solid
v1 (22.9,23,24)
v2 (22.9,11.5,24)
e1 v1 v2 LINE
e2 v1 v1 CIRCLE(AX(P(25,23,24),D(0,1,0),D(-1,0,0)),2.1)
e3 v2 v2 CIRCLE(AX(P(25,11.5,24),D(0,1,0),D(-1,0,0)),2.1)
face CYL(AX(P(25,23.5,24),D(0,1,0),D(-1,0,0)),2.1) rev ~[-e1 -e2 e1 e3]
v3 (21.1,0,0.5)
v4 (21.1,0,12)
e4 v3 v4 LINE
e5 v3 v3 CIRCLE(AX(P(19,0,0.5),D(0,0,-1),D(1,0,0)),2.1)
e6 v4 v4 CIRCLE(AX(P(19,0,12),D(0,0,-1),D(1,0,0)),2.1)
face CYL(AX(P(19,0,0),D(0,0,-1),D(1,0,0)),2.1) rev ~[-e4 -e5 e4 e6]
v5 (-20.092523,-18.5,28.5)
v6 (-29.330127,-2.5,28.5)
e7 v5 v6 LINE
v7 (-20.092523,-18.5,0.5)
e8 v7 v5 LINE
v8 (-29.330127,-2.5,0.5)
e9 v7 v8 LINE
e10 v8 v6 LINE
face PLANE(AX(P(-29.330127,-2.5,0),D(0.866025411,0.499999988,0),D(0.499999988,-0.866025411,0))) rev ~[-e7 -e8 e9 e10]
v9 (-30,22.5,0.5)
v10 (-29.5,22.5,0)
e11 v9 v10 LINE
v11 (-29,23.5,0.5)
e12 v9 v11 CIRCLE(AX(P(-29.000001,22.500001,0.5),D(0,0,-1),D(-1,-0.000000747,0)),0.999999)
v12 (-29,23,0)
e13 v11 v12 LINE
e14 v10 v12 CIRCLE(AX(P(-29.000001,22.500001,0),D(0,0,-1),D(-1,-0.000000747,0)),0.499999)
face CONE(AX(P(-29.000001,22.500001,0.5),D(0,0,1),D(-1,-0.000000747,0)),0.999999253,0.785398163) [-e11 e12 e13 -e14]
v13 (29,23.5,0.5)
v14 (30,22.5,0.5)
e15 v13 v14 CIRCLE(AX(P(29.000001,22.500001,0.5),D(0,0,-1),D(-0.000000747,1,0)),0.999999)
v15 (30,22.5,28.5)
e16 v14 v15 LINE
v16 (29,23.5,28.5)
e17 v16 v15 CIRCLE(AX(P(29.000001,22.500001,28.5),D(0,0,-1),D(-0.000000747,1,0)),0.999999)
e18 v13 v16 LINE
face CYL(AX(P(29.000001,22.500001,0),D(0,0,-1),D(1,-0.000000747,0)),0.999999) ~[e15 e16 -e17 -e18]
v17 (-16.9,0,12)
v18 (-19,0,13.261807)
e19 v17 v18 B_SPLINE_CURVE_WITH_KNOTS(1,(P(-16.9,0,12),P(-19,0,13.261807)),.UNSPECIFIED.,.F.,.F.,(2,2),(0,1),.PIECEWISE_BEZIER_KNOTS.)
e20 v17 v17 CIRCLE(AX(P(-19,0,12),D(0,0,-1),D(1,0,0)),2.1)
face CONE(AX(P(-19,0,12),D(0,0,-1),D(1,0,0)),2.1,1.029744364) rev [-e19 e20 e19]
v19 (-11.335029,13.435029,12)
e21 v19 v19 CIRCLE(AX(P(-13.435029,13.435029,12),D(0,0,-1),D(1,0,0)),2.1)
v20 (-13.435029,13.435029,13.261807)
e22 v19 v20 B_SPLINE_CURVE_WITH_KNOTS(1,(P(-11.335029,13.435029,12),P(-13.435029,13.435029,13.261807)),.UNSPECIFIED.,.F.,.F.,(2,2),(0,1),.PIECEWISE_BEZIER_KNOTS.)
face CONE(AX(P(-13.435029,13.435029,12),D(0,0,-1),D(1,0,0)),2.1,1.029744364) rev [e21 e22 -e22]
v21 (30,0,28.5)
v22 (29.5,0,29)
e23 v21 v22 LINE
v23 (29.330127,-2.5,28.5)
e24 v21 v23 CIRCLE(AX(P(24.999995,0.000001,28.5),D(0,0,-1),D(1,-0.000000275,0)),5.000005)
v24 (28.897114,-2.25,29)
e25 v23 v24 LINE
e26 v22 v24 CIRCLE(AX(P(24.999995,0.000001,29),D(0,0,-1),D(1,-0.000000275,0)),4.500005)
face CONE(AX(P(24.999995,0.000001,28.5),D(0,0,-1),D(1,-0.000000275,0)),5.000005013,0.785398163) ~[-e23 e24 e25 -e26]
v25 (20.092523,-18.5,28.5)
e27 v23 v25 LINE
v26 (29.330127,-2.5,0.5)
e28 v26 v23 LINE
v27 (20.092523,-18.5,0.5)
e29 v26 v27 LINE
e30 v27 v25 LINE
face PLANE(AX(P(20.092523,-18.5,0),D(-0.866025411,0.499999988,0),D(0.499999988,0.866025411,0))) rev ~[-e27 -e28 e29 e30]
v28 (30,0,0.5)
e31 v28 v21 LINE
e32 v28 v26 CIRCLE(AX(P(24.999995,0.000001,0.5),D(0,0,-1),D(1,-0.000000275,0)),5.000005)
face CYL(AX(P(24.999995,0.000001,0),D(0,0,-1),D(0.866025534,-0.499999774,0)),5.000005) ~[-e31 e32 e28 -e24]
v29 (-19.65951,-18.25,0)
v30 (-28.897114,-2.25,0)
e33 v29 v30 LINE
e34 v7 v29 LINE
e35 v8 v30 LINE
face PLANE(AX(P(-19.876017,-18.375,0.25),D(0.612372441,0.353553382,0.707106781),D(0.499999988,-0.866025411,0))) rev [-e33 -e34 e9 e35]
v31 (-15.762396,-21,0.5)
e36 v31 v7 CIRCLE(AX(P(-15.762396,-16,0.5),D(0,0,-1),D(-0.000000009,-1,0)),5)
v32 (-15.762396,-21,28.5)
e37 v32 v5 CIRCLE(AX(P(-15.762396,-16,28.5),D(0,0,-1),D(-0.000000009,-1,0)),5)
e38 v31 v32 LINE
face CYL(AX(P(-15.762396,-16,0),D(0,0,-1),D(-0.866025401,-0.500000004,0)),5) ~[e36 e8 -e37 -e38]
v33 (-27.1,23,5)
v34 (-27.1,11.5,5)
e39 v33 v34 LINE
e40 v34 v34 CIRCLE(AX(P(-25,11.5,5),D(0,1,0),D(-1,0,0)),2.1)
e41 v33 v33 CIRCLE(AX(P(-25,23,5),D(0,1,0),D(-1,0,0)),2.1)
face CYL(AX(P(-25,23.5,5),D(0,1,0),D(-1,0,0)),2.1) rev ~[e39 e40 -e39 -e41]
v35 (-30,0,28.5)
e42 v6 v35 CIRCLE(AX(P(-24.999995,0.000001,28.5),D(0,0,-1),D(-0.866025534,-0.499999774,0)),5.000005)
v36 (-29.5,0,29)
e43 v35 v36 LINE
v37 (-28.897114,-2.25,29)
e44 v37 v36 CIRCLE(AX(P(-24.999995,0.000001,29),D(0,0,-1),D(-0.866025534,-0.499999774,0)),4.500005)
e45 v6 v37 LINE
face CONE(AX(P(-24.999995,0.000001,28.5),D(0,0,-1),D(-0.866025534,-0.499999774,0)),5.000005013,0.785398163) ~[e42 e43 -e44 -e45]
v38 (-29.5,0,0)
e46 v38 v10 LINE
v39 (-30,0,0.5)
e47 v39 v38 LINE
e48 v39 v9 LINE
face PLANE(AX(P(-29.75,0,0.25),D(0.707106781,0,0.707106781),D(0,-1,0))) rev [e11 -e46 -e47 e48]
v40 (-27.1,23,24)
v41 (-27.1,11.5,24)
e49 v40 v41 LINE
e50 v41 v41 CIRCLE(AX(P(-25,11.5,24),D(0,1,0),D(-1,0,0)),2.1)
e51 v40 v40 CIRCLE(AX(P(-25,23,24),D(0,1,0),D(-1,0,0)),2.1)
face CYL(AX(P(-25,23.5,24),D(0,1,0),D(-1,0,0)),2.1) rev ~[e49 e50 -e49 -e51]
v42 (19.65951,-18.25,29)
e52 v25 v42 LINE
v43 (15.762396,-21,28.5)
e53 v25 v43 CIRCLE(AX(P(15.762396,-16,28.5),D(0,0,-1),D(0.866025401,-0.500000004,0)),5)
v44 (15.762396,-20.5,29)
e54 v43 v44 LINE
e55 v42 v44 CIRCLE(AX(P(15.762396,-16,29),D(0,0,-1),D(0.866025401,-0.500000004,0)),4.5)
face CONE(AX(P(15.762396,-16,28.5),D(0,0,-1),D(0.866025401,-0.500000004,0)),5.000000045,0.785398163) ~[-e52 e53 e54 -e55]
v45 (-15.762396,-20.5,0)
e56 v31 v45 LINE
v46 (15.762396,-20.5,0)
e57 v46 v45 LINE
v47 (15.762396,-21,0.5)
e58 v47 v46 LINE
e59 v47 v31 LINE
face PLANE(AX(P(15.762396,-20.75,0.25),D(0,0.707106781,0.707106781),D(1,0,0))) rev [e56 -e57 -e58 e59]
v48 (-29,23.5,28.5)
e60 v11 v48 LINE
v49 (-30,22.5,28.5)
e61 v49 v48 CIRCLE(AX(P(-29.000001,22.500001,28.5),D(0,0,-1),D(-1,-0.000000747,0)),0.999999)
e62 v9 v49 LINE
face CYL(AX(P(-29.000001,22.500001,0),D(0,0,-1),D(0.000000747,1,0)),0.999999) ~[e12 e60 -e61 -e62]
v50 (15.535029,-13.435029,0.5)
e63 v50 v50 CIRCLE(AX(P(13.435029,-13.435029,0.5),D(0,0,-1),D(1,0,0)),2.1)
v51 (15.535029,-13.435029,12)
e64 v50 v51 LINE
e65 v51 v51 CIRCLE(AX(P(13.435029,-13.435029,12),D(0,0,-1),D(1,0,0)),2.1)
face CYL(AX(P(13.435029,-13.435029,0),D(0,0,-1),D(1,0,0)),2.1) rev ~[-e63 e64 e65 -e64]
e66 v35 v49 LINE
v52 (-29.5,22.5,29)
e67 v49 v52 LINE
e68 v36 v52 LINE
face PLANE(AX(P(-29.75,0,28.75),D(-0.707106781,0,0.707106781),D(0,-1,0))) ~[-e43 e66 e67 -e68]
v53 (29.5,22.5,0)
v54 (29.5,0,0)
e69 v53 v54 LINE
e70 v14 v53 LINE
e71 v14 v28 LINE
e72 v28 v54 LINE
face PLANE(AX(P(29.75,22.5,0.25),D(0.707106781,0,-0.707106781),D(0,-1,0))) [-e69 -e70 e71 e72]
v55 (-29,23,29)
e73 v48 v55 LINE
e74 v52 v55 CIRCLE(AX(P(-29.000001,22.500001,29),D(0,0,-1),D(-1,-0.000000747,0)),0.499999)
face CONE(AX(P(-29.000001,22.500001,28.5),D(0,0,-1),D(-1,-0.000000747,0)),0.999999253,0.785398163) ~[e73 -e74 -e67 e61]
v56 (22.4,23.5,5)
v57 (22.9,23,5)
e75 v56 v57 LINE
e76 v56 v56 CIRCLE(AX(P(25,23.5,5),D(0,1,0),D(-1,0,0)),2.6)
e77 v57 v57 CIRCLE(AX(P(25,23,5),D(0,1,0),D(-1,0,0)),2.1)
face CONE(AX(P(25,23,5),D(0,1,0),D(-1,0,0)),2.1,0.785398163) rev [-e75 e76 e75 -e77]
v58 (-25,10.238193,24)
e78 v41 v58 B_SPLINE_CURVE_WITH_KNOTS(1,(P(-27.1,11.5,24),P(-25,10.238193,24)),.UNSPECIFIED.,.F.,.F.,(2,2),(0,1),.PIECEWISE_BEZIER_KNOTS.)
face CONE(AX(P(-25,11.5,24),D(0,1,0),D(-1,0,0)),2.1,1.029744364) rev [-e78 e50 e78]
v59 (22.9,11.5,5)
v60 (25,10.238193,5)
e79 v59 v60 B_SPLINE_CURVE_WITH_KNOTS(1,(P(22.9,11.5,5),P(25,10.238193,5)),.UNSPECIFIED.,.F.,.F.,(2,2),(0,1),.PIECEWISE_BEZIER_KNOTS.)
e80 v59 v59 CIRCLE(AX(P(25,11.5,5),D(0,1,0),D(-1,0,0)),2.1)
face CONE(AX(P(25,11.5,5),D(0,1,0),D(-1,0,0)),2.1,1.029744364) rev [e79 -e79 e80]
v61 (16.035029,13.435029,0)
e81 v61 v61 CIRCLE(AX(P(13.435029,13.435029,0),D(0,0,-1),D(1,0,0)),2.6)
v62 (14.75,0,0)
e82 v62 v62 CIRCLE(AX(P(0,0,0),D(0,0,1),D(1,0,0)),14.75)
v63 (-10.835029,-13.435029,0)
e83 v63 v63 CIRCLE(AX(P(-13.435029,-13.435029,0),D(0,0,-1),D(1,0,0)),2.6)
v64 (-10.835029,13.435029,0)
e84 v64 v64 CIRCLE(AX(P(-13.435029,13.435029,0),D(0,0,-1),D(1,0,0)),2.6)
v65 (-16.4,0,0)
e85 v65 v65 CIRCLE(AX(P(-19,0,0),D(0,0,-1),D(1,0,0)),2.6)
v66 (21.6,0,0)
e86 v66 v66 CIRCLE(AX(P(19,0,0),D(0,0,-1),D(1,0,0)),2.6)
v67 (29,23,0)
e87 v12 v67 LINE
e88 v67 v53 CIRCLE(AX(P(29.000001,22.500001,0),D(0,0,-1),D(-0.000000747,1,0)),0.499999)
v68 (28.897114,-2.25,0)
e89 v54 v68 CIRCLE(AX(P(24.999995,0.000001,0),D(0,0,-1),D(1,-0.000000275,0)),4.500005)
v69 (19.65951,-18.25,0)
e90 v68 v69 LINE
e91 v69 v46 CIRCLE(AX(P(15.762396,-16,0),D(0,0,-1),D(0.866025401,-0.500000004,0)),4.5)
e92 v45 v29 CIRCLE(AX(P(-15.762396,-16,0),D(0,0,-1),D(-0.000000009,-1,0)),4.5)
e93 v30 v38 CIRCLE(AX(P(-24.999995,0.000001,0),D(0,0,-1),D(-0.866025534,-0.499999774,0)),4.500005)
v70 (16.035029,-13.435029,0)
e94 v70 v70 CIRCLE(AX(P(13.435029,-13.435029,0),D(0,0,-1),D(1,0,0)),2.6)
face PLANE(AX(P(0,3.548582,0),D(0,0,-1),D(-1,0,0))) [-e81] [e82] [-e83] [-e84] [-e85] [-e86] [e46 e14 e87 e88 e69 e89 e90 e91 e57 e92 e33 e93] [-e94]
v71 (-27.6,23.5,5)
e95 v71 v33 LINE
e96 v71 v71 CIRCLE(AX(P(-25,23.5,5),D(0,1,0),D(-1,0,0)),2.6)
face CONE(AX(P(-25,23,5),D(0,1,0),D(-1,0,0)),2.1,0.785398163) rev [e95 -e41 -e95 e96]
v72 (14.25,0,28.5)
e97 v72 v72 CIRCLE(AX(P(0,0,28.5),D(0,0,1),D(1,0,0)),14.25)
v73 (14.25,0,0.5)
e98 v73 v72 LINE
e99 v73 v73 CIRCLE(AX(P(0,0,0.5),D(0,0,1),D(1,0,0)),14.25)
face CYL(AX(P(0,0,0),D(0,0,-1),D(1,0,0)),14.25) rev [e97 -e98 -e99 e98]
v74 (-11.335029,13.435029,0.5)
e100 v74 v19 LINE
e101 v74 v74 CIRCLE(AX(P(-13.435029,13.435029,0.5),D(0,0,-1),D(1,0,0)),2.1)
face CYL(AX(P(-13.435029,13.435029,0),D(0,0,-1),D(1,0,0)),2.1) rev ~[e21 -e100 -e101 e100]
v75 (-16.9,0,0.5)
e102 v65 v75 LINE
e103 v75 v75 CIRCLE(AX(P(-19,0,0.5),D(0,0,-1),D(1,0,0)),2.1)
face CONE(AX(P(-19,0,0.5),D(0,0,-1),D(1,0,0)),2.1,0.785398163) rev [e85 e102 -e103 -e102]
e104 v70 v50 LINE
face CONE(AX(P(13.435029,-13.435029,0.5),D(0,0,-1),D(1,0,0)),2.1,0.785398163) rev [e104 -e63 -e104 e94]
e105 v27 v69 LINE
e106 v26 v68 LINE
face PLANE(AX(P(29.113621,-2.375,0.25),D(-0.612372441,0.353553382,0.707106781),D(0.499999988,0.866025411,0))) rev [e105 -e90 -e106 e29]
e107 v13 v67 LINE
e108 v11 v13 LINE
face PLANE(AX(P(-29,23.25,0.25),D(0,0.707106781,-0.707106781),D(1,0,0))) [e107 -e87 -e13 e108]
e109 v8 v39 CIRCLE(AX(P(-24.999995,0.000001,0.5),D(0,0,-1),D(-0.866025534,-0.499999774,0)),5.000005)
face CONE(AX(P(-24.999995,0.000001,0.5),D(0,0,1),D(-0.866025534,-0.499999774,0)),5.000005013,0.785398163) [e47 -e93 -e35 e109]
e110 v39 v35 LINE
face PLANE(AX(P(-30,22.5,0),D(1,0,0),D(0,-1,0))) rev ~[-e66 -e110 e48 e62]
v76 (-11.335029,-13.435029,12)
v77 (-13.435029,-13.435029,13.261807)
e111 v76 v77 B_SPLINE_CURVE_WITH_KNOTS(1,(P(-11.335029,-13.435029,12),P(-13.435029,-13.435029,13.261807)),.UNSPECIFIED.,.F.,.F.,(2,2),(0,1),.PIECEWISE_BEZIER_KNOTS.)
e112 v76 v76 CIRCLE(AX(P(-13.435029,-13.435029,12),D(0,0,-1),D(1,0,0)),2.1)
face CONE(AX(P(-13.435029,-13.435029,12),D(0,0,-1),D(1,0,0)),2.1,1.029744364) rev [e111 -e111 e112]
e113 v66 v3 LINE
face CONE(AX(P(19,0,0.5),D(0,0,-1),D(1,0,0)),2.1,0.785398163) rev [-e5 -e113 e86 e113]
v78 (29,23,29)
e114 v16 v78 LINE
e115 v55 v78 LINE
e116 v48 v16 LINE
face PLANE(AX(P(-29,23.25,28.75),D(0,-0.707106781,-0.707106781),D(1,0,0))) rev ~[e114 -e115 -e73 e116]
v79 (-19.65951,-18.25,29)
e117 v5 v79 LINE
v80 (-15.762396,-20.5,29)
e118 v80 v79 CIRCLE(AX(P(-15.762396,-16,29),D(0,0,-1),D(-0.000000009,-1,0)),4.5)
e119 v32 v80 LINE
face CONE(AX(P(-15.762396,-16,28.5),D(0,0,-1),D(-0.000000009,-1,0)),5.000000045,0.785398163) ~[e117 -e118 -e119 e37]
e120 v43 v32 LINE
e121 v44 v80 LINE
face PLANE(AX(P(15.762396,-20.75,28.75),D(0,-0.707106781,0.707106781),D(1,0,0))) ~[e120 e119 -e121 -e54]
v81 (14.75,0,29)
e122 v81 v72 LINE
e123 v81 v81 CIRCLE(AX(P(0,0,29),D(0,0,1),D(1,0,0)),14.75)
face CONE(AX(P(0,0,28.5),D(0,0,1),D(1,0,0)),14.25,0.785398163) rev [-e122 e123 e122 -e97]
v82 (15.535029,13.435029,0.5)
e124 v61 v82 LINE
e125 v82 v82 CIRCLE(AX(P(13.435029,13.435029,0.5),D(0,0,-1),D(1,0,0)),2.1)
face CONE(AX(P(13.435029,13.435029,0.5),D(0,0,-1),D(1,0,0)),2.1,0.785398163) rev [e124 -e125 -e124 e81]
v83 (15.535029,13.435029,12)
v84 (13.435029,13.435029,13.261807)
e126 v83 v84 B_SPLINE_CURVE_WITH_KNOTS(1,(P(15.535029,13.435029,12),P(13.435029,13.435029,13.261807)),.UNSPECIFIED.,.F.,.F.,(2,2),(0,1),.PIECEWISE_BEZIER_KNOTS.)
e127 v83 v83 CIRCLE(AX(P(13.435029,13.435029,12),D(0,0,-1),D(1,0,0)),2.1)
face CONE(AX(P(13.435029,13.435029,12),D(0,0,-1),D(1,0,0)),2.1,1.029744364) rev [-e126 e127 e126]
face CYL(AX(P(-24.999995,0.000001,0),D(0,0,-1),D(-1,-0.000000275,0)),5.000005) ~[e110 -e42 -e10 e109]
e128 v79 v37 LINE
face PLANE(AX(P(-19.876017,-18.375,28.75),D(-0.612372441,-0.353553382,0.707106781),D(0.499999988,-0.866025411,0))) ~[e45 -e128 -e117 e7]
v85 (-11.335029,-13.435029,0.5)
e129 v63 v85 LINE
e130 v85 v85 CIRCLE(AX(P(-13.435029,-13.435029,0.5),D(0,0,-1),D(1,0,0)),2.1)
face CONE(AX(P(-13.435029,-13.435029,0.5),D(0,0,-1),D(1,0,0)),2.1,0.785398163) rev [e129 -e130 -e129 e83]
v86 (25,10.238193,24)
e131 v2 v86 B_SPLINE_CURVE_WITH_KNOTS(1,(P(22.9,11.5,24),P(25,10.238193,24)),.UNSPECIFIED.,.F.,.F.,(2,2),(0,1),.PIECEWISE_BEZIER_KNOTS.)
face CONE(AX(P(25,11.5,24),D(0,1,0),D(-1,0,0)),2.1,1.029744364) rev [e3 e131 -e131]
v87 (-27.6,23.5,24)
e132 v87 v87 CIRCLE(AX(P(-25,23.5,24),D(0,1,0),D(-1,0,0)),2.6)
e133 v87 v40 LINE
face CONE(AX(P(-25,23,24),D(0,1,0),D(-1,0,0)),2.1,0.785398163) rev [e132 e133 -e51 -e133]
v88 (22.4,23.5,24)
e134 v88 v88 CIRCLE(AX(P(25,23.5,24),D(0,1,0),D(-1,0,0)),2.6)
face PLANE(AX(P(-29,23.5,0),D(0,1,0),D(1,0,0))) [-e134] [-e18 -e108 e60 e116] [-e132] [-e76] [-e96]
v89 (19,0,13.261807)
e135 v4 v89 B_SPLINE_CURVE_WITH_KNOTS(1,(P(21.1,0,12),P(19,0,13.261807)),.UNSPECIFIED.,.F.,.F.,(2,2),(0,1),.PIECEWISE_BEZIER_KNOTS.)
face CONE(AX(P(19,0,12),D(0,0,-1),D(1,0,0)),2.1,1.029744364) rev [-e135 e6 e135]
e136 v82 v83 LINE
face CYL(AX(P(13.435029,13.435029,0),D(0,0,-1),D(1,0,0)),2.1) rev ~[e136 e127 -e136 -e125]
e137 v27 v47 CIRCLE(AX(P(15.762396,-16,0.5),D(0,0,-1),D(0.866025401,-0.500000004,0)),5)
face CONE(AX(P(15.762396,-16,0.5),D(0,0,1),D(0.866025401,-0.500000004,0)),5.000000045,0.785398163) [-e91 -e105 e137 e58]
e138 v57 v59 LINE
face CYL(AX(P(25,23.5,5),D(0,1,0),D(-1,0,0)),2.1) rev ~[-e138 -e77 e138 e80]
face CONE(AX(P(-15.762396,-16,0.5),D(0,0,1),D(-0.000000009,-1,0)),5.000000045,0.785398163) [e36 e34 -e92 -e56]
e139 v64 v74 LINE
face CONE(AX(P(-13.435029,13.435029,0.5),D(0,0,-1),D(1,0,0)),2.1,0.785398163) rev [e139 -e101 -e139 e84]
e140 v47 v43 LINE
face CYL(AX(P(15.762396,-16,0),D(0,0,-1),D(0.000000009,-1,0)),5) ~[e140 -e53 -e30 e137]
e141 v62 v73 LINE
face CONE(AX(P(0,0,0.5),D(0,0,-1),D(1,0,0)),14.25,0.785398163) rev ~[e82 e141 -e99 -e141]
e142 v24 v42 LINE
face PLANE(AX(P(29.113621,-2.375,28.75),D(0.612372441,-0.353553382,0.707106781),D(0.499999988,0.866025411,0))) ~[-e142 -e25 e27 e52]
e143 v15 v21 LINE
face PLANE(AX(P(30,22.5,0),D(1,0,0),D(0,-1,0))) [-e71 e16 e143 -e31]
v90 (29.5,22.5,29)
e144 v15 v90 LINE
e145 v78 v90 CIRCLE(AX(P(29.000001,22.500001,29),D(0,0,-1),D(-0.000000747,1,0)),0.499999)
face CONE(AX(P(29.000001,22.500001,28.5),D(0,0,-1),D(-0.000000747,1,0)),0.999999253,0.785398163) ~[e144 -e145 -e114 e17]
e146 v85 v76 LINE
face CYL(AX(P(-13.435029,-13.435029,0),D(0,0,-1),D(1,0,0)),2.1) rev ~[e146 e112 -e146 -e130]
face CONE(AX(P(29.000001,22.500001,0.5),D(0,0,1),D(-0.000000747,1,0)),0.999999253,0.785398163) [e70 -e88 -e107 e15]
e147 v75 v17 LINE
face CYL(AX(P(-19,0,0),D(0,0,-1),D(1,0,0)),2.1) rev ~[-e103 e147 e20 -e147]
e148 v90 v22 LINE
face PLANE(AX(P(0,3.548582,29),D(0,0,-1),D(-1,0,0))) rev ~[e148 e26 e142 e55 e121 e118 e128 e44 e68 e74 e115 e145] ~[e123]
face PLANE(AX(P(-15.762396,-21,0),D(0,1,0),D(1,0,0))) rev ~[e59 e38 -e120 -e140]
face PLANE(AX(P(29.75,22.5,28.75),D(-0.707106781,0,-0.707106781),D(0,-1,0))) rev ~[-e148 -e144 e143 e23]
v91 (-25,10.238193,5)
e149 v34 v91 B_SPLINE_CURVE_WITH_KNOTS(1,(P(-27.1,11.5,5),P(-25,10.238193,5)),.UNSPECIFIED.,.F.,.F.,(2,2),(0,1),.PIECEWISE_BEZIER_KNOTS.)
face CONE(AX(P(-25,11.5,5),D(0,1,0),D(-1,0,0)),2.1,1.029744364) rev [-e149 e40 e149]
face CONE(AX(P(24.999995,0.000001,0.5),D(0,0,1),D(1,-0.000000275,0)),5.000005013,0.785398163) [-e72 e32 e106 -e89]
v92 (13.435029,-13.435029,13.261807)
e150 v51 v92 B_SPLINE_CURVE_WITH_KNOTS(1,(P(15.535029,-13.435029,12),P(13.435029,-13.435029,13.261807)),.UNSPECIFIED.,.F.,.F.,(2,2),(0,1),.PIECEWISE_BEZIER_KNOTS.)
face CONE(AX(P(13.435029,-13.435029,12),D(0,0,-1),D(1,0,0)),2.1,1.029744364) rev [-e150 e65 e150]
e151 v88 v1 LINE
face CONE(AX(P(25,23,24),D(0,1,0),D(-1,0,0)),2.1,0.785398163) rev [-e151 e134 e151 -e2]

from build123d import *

# Parameters (mm, degrees)
SKETCH_R       = 14.25
PAD_DEPTH      = 29
SKETCH001_R    = 2.1
HOLE_DEPTH     = 12
HOLE_TIPS_R    = 2.1
SKETCH002_R    = 2.1
HOLE001_DEPTH  = 12
HOLE001_TIPS_R = 2.1
CHAMFER_SIZE   = 0.5


with BuildPart() as part:
    # Sketch → Pad (new body)
    with BuildSketch(Plane.XY):
        with BuildLine():
            Line((-29, 23.5), (29, 23.5))
            ThreePointArc((30, 22.5), (29.707107, 23.207107), (29, 23.5))
            Line((30, 22.5), (30, 0))
            ThreePointArc((29.330127, -2.5), (29.829629, -1.294095), (30, 0))
            Line((20.092523, -18.5), (29.330127, -2.5))
            ThreePointArc((15.762396, -21), (18.262396, -20.330127), (20.092523, -18.5))
            Line((-15.762396, -21), (15.762396, -21))
            ThreePointArc((-20.092523, -18.5), (-18.262396, -20.330127), (-15.762396, -21))
            Line((-29.330127, -2.5), (-20.092523, -18.5))
            ThreePointArc((-30, 0), (-29.829629, -1.294095), (-29.330127, -2.5))
            Line((-30, 22.5), (-30, 0))
            ThreePointArc((-29, 23.5), (-29.707107, 23.207107), (-30, 22.5))
        make_face()
        Circle(SKETCH_R, mode=Mode.SUBTRACT)
    extrude(amount=PAD_DEPTH)

    # Sketch001 (on Face14 of Pad) → Hole (cut)
    with BuildSketch(Plane(origin=(0, 0, 0), x_dir=(1, 0, 0), z_dir=(0, 0, -1))):
        with Locations((-19, 0)):
            Circle(SKETCH001_R)
        with Locations((-13.435029, 13.435029)):
            Circle(SKETCH001_R)
        with Locations((13.435029, 13.435029)):
            Circle(SKETCH001_R)
        with Locations((19, 0)):
            Circle(SKETCH001_R)
        with Locations((13.435029, -13.435029)):
            Circle(SKETCH001_R)
        with Locations((-13.435029, -13.435029)):
            Circle(SKETCH001_R)
    extrude(amount=-HOLE_DEPTH, mode=Mode.SUBTRACT)

    # Hole tips → Hole tip 1 section 0
    with BuildSketch(Plane(origin=(0, 0, 12), x_dir=(1, 0, 0), z_dir=(0, 0, -1)), mode=Mode.PRIVATE) as hole_tip_1_s0:
        with Locations((-19, 0)):
            Circle(HOLE_TIPS_R)
    loft([hole_tip_1_s0.sketch, Vertex(-19, 0, 13.261807)], mode=Mode.SUBTRACT)

    # Hole tips → Hole tip 2 section 0
    with BuildSketch(Plane(origin=(0, 0, 12), x_dir=(1, 0, 0), z_dir=(0, 0, -1)), mode=Mode.PRIVATE) as hole_tip_2_s0:
        with Locations((-13.435029, 13.435029)):
            Circle(HOLE_TIPS_R)
    loft([hole_tip_2_s0.sketch, Vertex(-13.435029, -13.435029, 13.261807)], mode=Mode.SUBTRACT)

    # Hole tips → Hole tip 3 section 0
    with BuildSketch(Plane(origin=(0, 0, 12), x_dir=(1, 0, 0), z_dir=(0, 0, -1)), mode=Mode.PRIVATE) as hole_tip_3_s0:
        with Locations((13.435029, 13.435029)):
            Circle(HOLE_TIPS_R)
    loft([hole_tip_3_s0.sketch, Vertex(13.435029, -13.435029, 13.261807)], mode=Mode.SUBTRACT)

    # Hole tips → Hole tip 4 section 0
    with BuildSketch(Plane(origin=(0, 0, 12), x_dir=(1, 0, 0), z_dir=(0, 0, -1)), mode=Mode.PRIVATE) as hole_tip_4_s0:
        with Locations((19, 0)):
            Circle(HOLE_TIPS_R)
    loft([hole_tip_4_s0.sketch, Vertex(19, 0, 13.261807)], mode=Mode.SUBTRACT)

    # Hole tips → Hole tip 5 section 0
    with BuildSketch(Plane(origin=(0, 0, 12), x_dir=(1, 0, 0), z_dir=(0, 0, -1)), mode=Mode.PRIVATE) as hole_tip_5_s0:
        with Locations((13.435029, -13.435029)):
            Circle(HOLE_TIPS_R)
    loft([hole_tip_5_s0.sketch, Vertex(13.435029, 13.435029, 13.261807)], mode=Mode.SUBTRACT)

    # Hole tips → Hole tip 6 section 0
    with BuildSketch(Plane(origin=(0, 0, 12), x_dir=(1, 0, 0), z_dir=(0, 0, -1)), mode=Mode.PRIVATE) as hole_tip_6_s0:
        with Locations((-13.435029, -13.435029)):
            Circle(HOLE_TIPS_R)
    loft([hole_tip_6_s0.sketch, Vertex(-13.435029, 13.435029, 13.261807)], mode=Mode.SUBTRACT)

    # Sketch002 (on Face2 of Hole) → Hole001 (cut)
    with BuildSketch(Plane(origin=(0, 23.5, 0), x_dir=(-1, 0, 0), z_dir=(0, 1, 0))):
        with Locations((-25, 5)):
            Circle(SKETCH002_R)
        with Locations((25, 5)):
            Circle(SKETCH002_R)
        with Locations((-25, 24)):
            Circle(SKETCH002_R)
        with Locations((25, 24)):
            Circle(SKETCH002_R)
    extrude(amount=-HOLE001_DEPTH, mode=Mode.SUBTRACT)

    # Hole001 tips → Hole001 tip 1 section 0
    with BuildSketch(Plane(origin=(0, 11.5, 0), x_dir=(-1, 0, 0), z_dir=(0, 1, 0)), mode=Mode.PRIVATE) as hole001_tip_1_s0:
        with Locations((-25, 5)):
            Circle(HOLE001_TIPS_R)
    loft([hole001_tip_1_s0.sketch, Vertex(25, 10.238193, 5)], mode=Mode.SUBTRACT)

    # Hole001 tips → Hole001 tip 2 section 0
    with BuildSketch(Plane(origin=(0, 11.5, 0), x_dir=(-1, 0, 0), z_dir=(0, 1, 0)), mode=Mode.PRIVATE) as hole001_tip_2_s0:
        with Locations((25, 5)):
            Circle(HOLE001_TIPS_R)
    loft([hole001_tip_2_s0.sketch, Vertex(-25, 10.238193, 5)], mode=Mode.SUBTRACT)

    # Hole001 tips → Hole001 tip 3 section 0
    with BuildSketch(Plane(origin=(0, 11.5, 0), x_dir=(-1, 0, 0), z_dir=(0, 1, 0)), mode=Mode.PRIVATE) as hole001_tip_3_s0:
        with Locations((-25, 24)):
            Circle(HOLE001_TIPS_R)
    loft([hole001_tip_3_s0.sketch, Vertex(25, 10.238193, 24)], mode=Mode.SUBTRACT)

    # Hole001 tips → Hole001 tip 4 section 0
    with BuildSketch(Plane(origin=(0, 11.5, 0), x_dir=(-1, 0, 0), z_dir=(0, 1, 0)), mode=Mode.PRIVATE) as hole001_tip_4_s0:
        with Locations((25, 24)):
            Circle(HOLE001_TIPS_R)
    loft([hole001_tip_4_s0.sketch, Vertex(-25, 10.238193, 24)], mode=Mode.SUBTRACT)

    # Chamfer
    chamfer_edges = [part.edges().sort_by_distance(p)[0] for p in [
        (-14.25, 0, 0),
        (-16.9, 0, 0),
        (-11.335029, -13.435029, 0),
        (-11.335029, 13.435029, 0),
        (15.535029, -13.435029, 0),
        (21.1, 0, 0),
        (15.535029, 13.435029, 0),
        (0, 23.5, 0),
        (0, 23.5, 29),
        (-27.1, 23.5, 24),
        (22.9, 23.5, 24),
        (22.9, 23.5, 5),
        (-27.1, 23.5, 5),
        (-14.25, 0, 29),
    ]]
    chamfer(chamfer_edges, length=CHAMFER_SIZE)


solid = part.part
